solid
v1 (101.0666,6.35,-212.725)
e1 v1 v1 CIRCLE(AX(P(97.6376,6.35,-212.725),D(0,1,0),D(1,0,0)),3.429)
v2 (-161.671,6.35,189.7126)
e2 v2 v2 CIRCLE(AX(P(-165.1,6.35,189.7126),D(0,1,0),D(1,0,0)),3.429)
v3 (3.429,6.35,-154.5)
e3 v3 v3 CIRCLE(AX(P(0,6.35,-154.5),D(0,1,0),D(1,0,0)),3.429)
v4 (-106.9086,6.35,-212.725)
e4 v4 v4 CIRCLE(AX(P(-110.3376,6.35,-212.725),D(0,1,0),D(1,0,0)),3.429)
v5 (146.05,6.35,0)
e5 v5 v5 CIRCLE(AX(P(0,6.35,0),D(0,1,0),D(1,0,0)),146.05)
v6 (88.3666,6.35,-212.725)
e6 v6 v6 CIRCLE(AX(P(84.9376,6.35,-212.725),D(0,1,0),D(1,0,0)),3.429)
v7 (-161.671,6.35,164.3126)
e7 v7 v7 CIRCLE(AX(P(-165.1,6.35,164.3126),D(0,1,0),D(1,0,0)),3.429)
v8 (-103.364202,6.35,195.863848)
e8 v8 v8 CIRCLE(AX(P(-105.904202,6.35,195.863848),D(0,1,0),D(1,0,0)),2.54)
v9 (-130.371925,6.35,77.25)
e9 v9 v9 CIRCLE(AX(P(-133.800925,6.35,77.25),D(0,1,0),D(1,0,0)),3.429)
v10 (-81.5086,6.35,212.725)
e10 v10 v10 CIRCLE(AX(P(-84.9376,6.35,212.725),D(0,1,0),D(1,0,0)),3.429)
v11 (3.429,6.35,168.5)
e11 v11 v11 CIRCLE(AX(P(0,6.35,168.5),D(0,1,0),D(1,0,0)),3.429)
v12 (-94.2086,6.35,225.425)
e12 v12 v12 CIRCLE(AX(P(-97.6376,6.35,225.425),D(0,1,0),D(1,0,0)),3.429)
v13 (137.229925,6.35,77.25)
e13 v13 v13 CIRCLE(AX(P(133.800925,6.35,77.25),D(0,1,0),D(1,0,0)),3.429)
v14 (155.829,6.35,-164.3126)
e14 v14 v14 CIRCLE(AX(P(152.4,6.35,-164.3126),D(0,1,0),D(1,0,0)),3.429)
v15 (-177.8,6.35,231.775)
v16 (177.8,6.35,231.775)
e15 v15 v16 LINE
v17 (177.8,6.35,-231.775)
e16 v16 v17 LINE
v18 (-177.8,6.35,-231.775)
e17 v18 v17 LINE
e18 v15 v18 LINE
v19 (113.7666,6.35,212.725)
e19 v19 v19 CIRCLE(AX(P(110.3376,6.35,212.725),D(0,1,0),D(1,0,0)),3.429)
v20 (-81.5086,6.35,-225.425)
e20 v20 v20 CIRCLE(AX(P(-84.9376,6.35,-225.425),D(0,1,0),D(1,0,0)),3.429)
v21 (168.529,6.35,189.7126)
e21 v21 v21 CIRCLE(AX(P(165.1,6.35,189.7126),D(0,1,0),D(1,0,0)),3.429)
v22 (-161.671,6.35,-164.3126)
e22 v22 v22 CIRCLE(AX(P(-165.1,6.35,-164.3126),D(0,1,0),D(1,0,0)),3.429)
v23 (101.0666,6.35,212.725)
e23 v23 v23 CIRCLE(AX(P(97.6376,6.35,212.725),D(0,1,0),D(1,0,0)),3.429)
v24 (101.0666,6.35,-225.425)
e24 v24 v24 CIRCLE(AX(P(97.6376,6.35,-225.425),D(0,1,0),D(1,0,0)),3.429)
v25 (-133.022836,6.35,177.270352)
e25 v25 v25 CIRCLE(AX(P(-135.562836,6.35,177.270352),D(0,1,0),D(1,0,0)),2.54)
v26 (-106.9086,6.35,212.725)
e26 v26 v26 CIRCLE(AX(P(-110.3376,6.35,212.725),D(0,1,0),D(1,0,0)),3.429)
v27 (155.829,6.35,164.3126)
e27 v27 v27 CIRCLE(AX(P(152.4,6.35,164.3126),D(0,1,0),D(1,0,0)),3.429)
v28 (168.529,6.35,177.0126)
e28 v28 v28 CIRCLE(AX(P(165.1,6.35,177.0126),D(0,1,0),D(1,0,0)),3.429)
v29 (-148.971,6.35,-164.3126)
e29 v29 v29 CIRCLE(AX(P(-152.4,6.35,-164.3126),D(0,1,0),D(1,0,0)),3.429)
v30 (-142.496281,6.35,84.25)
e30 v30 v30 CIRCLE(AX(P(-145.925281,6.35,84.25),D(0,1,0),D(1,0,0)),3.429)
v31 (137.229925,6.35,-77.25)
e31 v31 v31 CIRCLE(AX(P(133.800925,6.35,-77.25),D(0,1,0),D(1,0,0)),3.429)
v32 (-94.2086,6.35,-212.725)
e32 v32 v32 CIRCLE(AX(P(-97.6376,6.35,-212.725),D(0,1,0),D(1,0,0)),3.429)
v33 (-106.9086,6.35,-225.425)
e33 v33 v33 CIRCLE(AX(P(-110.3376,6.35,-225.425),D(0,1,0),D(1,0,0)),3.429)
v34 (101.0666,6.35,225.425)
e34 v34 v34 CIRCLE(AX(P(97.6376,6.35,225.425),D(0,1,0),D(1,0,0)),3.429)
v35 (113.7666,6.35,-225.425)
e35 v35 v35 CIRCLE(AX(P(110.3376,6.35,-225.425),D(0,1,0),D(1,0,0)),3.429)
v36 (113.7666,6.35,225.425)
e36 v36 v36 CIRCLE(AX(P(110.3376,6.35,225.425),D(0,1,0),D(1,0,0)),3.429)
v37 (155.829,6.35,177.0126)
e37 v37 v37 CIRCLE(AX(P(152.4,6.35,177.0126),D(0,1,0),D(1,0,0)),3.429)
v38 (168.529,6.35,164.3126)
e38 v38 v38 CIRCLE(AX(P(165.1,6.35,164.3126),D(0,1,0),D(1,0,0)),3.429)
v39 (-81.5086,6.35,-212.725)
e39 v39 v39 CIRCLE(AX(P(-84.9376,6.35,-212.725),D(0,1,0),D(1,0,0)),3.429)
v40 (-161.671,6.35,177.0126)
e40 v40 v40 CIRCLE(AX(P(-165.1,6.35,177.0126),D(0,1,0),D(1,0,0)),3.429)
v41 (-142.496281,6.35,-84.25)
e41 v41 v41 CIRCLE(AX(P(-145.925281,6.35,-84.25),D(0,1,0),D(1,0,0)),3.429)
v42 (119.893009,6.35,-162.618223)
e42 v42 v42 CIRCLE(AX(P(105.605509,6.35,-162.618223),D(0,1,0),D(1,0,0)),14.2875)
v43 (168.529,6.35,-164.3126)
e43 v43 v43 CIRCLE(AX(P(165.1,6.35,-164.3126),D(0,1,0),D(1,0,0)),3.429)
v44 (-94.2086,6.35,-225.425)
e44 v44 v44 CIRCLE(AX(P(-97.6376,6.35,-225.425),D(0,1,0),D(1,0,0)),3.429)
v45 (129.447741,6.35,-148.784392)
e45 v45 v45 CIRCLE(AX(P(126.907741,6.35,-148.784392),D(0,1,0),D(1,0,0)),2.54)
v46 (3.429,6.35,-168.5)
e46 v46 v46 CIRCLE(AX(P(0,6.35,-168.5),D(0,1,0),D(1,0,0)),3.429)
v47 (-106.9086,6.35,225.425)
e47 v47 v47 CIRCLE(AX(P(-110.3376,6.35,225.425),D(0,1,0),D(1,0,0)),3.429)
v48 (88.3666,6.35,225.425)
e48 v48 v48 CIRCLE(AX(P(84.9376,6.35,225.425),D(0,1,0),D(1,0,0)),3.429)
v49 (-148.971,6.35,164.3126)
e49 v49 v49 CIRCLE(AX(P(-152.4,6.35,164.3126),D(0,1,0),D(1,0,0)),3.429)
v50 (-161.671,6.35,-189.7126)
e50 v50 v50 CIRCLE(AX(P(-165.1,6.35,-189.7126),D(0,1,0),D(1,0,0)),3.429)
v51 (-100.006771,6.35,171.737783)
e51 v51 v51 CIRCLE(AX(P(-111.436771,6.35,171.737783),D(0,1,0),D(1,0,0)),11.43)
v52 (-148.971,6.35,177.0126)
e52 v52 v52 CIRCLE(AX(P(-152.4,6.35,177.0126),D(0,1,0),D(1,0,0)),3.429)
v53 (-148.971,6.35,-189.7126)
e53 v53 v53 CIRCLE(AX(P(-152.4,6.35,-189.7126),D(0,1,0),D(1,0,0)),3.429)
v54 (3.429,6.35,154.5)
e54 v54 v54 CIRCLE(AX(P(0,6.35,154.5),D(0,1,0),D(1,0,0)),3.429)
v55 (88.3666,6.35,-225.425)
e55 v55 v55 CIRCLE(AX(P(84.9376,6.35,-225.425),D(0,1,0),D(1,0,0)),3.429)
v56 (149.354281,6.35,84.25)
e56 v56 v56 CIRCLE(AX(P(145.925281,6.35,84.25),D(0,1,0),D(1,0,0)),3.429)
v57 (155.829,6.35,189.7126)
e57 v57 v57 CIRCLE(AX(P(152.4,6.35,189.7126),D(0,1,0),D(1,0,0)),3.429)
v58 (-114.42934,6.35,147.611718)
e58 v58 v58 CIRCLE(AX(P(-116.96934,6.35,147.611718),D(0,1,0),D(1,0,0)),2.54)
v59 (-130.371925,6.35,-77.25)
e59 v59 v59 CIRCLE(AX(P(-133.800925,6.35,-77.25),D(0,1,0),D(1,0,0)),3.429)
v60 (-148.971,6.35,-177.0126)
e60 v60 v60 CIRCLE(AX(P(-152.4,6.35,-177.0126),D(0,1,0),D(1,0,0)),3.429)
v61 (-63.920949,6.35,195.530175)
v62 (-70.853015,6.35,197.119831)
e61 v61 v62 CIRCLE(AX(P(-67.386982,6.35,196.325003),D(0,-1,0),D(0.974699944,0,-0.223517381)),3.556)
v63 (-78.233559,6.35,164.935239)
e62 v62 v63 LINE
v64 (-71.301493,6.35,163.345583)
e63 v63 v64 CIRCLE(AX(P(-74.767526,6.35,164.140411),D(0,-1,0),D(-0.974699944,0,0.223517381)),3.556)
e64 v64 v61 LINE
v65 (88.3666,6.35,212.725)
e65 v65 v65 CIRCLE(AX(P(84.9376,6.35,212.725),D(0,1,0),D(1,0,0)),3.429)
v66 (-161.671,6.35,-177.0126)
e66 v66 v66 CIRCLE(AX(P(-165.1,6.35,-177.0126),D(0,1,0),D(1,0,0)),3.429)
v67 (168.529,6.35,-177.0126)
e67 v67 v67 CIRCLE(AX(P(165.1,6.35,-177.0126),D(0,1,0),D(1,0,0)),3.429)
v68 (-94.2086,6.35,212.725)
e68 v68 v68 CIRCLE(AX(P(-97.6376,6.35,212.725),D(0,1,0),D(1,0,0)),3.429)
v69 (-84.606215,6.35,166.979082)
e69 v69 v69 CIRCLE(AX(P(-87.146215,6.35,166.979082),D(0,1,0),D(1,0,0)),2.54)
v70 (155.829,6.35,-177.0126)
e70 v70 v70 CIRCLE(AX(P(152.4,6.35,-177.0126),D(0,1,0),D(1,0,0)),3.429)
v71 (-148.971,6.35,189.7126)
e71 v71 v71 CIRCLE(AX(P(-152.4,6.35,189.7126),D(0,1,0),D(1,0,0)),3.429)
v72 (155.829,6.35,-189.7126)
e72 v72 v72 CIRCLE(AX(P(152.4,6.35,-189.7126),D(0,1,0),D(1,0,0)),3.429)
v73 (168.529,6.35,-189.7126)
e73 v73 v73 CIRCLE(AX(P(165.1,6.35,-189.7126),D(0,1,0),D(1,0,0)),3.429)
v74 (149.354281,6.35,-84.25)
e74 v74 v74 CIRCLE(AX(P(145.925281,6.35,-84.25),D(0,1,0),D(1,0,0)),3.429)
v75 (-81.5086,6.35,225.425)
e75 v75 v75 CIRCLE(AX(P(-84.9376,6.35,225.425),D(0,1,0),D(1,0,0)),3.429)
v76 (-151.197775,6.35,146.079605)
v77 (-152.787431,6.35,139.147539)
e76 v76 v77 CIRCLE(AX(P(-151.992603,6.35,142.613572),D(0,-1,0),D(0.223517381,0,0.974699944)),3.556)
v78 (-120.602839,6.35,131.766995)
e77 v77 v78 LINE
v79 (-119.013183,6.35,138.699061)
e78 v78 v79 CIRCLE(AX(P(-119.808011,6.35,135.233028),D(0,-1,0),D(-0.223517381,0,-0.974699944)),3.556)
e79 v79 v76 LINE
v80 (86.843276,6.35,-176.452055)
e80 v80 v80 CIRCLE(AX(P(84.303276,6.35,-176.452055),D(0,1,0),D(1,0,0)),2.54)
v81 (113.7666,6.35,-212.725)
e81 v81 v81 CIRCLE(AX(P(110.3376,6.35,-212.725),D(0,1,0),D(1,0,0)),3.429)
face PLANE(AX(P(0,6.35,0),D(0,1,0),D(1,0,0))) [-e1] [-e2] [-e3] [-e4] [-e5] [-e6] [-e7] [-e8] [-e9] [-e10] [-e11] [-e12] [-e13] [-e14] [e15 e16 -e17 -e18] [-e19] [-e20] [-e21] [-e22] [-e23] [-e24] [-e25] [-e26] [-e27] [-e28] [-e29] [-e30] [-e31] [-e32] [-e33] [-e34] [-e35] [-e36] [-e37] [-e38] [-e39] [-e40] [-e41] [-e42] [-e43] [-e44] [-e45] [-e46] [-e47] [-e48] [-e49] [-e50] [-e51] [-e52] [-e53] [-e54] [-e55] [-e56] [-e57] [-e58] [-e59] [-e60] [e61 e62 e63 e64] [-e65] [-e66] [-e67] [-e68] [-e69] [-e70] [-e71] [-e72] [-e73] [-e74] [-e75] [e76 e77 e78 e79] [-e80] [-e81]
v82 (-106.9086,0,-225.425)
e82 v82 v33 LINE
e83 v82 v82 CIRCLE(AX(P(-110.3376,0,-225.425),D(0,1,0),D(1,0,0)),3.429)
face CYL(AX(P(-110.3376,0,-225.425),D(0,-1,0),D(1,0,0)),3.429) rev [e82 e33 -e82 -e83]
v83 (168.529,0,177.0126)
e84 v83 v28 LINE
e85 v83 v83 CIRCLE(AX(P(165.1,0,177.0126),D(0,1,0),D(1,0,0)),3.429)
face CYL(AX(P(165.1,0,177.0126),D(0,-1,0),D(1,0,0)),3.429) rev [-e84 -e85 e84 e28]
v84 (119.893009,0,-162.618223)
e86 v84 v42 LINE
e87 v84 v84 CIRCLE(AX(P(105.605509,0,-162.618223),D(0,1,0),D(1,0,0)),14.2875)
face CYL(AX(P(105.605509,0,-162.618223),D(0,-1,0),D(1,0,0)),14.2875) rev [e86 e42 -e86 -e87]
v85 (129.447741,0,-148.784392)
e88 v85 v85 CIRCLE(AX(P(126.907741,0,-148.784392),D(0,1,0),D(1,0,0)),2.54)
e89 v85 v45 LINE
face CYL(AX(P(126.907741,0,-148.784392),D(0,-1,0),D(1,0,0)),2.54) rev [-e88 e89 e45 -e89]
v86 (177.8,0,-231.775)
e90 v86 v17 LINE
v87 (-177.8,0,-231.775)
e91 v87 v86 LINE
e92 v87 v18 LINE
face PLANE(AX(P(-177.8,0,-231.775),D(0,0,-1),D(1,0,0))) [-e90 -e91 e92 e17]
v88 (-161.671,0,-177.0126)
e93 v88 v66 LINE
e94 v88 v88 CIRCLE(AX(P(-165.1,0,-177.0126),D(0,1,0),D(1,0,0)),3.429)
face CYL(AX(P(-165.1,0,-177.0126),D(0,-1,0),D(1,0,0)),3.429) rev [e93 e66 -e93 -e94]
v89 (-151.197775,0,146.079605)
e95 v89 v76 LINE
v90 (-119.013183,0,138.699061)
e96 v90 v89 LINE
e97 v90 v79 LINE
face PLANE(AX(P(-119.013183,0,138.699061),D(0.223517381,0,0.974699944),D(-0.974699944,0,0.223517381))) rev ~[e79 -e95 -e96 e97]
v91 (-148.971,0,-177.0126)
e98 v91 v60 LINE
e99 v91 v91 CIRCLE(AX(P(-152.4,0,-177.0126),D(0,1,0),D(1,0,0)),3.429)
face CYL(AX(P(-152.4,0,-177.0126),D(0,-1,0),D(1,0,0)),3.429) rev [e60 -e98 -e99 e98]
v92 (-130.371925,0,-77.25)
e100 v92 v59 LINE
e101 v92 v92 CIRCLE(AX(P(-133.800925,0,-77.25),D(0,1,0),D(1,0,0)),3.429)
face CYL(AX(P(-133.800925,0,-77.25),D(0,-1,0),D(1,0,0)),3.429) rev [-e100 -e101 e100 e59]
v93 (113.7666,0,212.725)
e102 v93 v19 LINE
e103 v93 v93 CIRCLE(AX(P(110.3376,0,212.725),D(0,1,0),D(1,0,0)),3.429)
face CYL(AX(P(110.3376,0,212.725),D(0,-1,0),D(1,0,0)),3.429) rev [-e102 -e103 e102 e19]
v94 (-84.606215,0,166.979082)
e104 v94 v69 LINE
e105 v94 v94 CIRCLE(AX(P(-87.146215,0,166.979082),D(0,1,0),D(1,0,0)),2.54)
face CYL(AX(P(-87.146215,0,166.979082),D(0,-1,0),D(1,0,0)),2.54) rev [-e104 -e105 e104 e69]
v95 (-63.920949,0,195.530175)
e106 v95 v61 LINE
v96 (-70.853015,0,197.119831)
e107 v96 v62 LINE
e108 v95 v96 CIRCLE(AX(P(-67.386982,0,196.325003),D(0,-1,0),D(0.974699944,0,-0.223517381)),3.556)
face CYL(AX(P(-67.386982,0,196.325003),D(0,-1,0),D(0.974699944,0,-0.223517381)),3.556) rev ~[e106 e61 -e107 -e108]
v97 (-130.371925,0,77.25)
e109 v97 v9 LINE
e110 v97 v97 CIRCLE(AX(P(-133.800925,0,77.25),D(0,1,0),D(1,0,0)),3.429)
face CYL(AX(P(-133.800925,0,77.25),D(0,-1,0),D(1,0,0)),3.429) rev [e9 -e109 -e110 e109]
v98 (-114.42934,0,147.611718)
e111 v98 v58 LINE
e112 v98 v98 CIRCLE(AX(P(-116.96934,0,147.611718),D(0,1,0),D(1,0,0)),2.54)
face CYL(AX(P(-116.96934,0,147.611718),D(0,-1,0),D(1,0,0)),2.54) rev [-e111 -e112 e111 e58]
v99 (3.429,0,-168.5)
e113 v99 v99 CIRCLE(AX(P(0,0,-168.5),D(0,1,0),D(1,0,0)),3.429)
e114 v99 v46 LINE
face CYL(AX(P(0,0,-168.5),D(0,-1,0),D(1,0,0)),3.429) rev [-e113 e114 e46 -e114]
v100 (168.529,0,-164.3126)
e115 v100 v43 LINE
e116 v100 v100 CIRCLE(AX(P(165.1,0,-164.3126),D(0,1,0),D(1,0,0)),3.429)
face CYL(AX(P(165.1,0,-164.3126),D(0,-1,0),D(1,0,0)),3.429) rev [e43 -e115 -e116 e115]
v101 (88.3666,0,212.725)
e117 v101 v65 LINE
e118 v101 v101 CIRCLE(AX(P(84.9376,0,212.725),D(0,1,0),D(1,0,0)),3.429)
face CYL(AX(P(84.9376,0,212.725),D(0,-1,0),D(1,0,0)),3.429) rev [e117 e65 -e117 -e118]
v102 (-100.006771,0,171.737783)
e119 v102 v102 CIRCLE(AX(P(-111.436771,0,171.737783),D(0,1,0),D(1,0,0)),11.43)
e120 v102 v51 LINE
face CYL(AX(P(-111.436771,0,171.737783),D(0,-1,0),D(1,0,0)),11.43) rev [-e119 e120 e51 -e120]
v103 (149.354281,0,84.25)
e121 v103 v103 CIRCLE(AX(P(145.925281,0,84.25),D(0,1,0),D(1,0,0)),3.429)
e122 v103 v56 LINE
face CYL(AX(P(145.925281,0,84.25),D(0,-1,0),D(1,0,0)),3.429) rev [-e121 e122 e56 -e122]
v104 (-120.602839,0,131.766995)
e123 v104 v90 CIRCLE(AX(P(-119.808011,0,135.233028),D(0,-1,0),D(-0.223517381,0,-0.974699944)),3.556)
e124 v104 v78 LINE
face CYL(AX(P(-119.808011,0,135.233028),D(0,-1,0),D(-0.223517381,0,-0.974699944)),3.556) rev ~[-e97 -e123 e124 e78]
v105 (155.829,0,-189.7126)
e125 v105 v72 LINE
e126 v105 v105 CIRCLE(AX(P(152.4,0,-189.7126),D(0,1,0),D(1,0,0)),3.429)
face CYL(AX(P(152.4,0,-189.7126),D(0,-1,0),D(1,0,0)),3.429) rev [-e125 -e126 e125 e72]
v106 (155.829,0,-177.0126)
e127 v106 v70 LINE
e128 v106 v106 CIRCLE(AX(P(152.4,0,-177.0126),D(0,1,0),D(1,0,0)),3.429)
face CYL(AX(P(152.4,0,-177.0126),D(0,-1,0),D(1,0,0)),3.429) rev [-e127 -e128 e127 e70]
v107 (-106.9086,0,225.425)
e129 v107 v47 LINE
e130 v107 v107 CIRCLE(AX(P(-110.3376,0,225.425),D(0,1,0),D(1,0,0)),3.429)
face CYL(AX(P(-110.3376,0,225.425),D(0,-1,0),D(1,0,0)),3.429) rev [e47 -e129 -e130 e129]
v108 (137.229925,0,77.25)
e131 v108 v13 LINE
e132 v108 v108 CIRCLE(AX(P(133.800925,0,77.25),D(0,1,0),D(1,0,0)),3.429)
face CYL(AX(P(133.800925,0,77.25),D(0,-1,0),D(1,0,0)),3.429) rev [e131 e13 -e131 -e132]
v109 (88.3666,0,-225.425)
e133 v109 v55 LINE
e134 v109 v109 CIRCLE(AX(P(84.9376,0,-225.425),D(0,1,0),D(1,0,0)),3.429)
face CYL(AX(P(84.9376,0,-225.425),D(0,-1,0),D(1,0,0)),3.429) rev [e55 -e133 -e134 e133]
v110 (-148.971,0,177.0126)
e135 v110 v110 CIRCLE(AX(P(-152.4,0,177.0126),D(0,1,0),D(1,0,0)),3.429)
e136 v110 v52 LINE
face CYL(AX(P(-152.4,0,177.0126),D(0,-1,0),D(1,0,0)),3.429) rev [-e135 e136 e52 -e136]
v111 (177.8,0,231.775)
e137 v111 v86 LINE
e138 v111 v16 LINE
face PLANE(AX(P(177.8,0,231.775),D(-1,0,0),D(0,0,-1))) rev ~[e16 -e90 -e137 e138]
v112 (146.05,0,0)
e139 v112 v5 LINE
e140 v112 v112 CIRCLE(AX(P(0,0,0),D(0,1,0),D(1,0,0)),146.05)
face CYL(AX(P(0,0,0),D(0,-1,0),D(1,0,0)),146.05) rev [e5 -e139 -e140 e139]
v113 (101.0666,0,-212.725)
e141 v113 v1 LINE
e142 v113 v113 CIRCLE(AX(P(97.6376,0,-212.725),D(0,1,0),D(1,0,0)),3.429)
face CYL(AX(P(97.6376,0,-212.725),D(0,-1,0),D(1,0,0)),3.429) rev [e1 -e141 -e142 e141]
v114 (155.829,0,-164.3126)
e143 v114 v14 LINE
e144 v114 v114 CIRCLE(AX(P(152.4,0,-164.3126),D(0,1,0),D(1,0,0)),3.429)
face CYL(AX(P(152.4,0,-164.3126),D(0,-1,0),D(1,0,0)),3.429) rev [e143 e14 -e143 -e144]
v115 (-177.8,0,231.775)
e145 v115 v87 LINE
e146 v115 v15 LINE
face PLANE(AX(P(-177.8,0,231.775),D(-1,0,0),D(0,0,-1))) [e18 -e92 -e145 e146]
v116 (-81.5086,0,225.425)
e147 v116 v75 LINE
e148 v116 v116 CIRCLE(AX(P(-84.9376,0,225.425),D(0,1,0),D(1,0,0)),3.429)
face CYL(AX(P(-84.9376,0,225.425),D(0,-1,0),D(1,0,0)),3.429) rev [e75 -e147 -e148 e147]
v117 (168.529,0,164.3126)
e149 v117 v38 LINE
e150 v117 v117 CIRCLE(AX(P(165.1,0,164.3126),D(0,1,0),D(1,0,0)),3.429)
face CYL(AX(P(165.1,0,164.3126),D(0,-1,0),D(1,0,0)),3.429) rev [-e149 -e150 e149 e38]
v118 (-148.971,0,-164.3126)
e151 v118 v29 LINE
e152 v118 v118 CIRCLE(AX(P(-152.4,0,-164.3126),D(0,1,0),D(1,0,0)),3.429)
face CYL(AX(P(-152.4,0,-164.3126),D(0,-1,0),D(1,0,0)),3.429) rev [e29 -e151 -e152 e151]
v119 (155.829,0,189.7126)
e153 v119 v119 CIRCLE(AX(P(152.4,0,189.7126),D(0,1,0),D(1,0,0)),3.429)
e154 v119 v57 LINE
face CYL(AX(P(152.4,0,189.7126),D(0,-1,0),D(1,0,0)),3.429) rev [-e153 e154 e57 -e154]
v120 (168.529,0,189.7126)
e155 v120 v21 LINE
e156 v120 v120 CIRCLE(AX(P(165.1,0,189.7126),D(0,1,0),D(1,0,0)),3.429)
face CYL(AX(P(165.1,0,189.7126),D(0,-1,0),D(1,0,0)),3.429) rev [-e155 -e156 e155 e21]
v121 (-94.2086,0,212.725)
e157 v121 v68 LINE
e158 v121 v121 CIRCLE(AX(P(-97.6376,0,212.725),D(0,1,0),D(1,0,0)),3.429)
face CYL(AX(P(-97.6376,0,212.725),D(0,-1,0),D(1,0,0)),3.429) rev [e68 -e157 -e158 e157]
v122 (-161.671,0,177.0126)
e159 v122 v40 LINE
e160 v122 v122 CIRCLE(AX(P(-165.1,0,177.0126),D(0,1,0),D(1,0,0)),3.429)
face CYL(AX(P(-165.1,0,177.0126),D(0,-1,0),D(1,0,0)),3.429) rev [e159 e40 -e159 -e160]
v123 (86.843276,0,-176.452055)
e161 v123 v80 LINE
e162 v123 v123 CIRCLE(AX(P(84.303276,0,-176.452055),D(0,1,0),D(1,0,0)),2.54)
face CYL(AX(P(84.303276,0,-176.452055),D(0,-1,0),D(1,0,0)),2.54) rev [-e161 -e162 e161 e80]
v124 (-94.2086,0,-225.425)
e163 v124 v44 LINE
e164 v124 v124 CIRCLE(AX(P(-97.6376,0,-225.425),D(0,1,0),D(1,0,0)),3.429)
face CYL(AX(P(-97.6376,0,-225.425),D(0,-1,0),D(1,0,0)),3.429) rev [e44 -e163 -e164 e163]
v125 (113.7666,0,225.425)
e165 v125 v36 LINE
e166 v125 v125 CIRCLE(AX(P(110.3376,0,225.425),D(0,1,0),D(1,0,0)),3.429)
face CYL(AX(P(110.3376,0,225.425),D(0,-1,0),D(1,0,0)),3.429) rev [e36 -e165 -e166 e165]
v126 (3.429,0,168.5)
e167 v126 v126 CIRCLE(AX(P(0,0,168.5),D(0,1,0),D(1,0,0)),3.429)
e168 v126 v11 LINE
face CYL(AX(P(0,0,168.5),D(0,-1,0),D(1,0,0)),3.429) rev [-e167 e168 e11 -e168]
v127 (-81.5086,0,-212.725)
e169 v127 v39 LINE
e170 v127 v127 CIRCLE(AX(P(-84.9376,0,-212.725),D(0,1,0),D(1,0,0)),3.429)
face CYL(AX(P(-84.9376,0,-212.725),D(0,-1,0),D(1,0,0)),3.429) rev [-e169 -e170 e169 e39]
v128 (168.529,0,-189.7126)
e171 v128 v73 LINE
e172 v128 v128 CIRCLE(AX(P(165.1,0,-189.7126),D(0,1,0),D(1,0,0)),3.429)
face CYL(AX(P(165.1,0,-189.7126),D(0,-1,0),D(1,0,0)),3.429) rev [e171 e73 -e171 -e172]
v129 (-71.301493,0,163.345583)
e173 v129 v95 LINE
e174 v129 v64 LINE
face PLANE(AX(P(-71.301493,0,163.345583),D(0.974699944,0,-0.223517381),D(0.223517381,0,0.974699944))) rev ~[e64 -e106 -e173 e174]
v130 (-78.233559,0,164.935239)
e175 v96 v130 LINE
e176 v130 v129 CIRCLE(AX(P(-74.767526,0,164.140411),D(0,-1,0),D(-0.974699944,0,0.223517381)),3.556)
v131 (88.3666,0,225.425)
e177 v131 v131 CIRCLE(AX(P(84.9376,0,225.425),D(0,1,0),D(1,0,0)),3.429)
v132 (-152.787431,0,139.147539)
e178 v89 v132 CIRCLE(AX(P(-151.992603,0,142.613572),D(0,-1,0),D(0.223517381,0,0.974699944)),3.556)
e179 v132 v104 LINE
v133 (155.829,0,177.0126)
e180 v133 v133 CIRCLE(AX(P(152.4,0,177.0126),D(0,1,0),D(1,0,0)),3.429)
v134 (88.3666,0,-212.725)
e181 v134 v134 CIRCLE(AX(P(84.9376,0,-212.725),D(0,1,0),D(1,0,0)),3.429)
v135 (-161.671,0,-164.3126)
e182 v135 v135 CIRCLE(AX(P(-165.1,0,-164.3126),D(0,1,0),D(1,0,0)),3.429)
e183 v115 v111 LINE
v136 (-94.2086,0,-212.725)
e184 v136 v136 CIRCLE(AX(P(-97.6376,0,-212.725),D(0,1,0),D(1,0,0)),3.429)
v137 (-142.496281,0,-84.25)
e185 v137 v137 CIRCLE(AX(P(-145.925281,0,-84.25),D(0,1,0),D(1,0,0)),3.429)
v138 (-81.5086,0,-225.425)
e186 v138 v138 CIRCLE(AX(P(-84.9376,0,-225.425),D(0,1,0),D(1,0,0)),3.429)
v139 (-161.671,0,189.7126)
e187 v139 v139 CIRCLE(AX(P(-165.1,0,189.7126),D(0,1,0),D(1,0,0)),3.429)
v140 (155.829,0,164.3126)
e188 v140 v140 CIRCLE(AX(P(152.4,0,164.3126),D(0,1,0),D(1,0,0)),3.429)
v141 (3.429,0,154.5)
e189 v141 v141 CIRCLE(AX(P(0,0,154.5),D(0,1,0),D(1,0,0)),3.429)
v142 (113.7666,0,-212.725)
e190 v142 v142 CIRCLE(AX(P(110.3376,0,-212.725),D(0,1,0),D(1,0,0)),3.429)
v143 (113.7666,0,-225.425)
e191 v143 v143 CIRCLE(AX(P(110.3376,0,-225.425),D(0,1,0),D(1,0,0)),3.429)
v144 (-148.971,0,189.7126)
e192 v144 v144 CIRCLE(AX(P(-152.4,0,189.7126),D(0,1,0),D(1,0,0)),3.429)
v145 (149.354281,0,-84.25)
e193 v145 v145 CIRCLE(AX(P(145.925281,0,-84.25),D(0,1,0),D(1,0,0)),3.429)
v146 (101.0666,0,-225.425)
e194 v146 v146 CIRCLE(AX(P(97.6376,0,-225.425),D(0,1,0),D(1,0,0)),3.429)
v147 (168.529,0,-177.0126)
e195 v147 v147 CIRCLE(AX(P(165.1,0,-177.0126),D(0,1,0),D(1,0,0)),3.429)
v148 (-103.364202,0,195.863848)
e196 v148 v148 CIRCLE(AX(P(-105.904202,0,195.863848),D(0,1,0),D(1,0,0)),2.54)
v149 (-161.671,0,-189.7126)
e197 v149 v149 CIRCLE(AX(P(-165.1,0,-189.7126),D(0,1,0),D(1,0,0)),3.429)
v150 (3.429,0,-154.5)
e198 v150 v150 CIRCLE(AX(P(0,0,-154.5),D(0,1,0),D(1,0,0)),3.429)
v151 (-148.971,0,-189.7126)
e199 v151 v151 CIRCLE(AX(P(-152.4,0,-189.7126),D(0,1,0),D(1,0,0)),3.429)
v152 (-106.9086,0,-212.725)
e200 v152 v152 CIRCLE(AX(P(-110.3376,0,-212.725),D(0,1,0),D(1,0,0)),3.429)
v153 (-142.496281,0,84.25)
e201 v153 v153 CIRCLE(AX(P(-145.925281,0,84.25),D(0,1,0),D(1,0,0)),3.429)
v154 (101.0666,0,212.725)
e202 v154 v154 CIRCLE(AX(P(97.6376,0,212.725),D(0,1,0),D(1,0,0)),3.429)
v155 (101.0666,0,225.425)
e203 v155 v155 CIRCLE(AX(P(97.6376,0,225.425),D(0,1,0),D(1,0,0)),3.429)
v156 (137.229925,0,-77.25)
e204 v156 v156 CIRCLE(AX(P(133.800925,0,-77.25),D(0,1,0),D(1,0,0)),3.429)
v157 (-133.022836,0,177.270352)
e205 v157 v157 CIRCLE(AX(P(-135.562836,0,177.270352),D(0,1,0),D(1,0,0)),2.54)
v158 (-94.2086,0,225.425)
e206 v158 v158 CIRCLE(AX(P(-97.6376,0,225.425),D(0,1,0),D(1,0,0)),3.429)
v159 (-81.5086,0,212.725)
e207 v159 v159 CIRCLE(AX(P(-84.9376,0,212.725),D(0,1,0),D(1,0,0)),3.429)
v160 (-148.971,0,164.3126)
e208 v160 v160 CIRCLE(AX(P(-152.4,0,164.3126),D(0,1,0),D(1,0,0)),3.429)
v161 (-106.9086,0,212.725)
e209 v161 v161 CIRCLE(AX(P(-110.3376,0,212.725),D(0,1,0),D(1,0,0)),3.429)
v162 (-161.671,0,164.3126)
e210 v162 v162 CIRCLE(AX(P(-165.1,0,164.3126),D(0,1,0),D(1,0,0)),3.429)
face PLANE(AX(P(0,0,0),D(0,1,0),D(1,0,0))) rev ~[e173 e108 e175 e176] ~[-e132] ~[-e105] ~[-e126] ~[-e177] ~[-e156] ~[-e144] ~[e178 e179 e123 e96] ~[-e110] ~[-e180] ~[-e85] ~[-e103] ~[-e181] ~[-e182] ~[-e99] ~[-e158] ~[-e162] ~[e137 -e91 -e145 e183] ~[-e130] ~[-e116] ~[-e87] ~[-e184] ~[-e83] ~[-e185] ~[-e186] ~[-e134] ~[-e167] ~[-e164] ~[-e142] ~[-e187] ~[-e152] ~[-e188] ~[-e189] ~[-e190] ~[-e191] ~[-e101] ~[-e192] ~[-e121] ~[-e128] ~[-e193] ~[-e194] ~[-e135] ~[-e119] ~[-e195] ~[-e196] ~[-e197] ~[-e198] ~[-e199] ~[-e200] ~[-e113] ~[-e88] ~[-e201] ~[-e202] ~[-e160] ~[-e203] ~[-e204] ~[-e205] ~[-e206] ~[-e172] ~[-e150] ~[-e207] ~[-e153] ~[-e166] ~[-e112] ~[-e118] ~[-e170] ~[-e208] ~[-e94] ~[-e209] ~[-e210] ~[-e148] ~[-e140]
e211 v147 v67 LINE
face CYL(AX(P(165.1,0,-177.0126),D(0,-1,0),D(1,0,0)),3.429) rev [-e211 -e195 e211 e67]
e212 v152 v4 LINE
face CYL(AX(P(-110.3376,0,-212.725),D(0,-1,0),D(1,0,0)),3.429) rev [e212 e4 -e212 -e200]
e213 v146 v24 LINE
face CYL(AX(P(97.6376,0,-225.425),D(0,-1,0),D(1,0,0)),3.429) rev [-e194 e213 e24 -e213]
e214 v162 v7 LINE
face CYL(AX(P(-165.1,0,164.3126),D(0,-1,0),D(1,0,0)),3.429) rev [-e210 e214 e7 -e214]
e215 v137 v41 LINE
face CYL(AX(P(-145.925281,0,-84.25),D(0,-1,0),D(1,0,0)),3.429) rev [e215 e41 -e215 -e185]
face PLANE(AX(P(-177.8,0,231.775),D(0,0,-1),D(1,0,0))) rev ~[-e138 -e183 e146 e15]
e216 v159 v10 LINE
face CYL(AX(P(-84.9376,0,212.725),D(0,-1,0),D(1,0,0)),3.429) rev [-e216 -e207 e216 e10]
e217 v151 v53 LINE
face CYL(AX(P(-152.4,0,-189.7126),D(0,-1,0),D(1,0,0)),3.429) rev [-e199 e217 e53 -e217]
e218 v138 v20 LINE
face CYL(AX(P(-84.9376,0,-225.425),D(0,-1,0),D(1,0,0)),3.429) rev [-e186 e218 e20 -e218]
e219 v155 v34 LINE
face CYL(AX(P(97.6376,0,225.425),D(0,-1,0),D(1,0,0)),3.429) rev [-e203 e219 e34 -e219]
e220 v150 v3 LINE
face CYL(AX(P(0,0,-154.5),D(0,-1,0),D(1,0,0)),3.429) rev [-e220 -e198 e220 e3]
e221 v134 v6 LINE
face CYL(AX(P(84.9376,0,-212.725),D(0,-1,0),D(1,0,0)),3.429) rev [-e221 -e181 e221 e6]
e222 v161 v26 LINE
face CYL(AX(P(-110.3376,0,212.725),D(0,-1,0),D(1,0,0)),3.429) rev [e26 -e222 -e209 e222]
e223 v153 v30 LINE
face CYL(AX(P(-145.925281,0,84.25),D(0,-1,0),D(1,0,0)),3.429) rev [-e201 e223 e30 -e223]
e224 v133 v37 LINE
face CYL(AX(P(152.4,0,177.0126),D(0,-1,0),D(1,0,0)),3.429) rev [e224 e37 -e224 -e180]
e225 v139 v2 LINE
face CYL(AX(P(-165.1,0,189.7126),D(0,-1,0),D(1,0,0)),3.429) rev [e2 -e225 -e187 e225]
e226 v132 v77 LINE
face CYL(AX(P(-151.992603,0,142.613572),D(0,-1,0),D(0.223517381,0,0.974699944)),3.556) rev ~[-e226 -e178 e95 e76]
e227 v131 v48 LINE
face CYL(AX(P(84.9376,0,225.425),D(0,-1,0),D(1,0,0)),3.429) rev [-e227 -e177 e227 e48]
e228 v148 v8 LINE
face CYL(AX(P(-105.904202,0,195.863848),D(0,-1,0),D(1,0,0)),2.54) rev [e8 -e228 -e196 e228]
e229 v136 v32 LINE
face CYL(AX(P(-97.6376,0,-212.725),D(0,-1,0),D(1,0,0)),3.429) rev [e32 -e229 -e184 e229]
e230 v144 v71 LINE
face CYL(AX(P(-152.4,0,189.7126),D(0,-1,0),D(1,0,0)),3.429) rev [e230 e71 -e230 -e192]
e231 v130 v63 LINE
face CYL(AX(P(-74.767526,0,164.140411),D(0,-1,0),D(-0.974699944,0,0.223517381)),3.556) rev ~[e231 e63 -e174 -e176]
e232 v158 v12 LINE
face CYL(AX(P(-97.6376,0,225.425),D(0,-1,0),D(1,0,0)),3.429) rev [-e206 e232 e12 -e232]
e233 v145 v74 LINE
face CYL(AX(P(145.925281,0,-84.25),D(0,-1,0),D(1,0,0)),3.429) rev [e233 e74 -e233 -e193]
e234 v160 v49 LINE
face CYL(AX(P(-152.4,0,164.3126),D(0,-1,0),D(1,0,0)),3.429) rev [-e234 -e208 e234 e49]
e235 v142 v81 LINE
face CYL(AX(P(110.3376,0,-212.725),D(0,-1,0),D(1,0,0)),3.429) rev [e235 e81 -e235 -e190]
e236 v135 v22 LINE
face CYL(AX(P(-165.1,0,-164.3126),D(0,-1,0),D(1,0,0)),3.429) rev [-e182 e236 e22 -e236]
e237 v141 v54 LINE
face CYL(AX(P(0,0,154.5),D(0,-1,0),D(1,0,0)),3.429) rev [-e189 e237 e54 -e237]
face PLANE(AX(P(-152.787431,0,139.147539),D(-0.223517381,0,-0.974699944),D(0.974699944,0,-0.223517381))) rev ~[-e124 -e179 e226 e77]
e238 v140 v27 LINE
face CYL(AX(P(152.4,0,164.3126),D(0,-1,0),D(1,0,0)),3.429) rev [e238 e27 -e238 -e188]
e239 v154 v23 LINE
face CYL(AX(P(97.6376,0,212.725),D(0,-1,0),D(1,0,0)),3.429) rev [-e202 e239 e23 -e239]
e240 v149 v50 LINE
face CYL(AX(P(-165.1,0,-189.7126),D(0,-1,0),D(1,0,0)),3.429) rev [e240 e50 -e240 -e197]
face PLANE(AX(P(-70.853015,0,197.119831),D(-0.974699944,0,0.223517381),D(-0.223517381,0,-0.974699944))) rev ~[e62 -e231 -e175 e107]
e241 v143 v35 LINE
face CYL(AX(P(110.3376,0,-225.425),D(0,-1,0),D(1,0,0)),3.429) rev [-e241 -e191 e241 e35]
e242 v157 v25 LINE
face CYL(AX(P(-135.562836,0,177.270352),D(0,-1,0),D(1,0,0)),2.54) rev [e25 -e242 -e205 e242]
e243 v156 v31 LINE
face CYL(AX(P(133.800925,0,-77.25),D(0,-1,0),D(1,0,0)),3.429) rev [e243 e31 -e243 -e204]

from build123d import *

# Parameters (mm, degrees)
SKETCH1_W           = 355.6
SKETCH1_H           = 463.55
SKETCH1_R           = 146.05
SKETCH1_R_2         = 3.429
SKETCH1_R_3         = 2.54
SKETCH1_R_4         = 11.43
SKETCH1_R_5         = 14.2875
BOSS_EXTRUDE1_DEPTH = 6.35


with BuildPart() as part:
    # Sketch1 → Boss-Extrude1 (new body)
    with BuildSketch(Plane(origin=(0, 0, 0), x_dir=(1, 0, 0), z_dir=(0, 1, 0))):
        Rectangle(SKETCH1_W, SKETCH1_H)
        Circle(SKETCH1_R, mode=Mode.SUBTRACT)
        with Locations((0, 168.5)):
            Circle(SKETCH1_R_2, mode=Mode.SUBTRACT)
        with Locations((145.925280538, 84.25)):
            Circle(SKETCH1_R_2, mode=Mode.SUBTRACT)
        with Locations((145.925280538, -84.25)):
            Circle(SKETCH1_R_2, mode=Mode.SUBTRACT)
        with Locations((0, -168.5)):
            Circle(SKETCH1_R_2, mode=Mode.SUBTRACT)
        with Locations((-145.925280538, -84.25)):
            Circle(SKETCH1_R_2, mode=Mode.SUBTRACT)
        with Locations((-145.925280538, 84.25)):
            Circle(SKETCH1_R_2, mode=Mode.SUBTRACT)
        with Locations((-165.1, 189.7126)):
            Circle(SKETCH1_R_2, mode=Mode.SUBTRACT)
        with Locations((-152.4, 189.7126)):
            Circle(SKETCH1_R_2, mode=Mode.SUBTRACT)
        with Locations((-152.4, 177.0126)):
            Circle(SKETCH1_R_2, mode=Mode.SUBTRACT)
        with Locations((-165.1, 177.0126)):
            Circle(SKETCH1_R_2, mode=Mode.SUBTRACT)
        with Locations((-152.4, 164.3126)):
            Circle(SKETCH1_R_2, mode=Mode.SUBTRACT)
        with Locations((-165.1, 164.3126)):
            Circle(SKETCH1_R_2, mode=Mode.SUBTRACT)
        with Locations((165.1, 164.3126)):
            Circle(SKETCH1_R_2, mode=Mode.SUBTRACT)
        with Locations((152.4, 164.3126)):
            Circle(SKETCH1_R_2, mode=Mode.SUBTRACT)
        with Locations((165.1, 177.0126)):
            Circle(SKETCH1_R_2, mode=Mode.SUBTRACT)
        with Locations((152.4, 177.0126)):
            Circle(SKETCH1_R_2, mode=Mode.SUBTRACT)
        with Locations((152.4, 189.7126)):
            Circle(SKETCH1_R_2, mode=Mode.SUBTRACT)
        with Locations((165.1, 189.7126)):
            Circle(SKETCH1_R_2, mode=Mode.SUBTRACT)
        with Locations((165.1, -189.7126)):
            Circle(SKETCH1_R_2, mode=Mode.SUBTRACT)
        with Locations((152.4, -189.7126)):
            Circle(SKETCH1_R_2, mode=Mode.SUBTRACT)
        with Locations((152.4, -177.0126)):
            Circle(SKETCH1_R_2, mode=Mode.SUBTRACT)
        with Locations((165.1, -177.0126)):
            Circle(SKETCH1_R_2, mode=Mode.SUBTRACT)
        with Locations((152.4, -164.3126)):
            Circle(SKETCH1_R_2, mode=Mode.SUBTRACT)
        with Locations((165.1, -164.3126)):
            Circle(SKETCH1_R_2, mode=Mode.SUBTRACT)
        with Locations((-165.1, -164.3126)):
            Circle(SKETCH1_R_2, mode=Mode.SUBTRACT)
        with Locations((-152.4, -164.3126)):
            Circle(SKETCH1_R_2, mode=Mode.SUBTRACT)
        with Locations((-165.1, -177.0126)):
            Circle(SKETCH1_R_2, mode=Mode.SUBTRACT)
        with Locations((-152.4, -177.0126)):
            Circle(SKETCH1_R_2, mode=Mode.SUBTRACT)
        with Locations((-152.4, -189.7126)):
            Circle(SKETCH1_R_2, mode=Mode.SUBTRACT)
        with Locations((-165.1, -189.7126)):
            Circle(SKETCH1_R_2, mode=Mode.SUBTRACT)
        with Locations((-110.3376, 225.425)):
            Circle(SKETCH1_R_2, mode=Mode.SUBTRACT)
        with Locations((-97.6376, 225.425)):
            Circle(SKETCH1_R_2, mode=Mode.SUBTRACT)
        with Locations((-84.9376, 225.425)):
            Circle(SKETCH1_R_2, mode=Mode.SUBTRACT)
        with Locations((-97.6376, 212.725)):
            Circle(SKETCH1_R_2, mode=Mode.SUBTRACT)
        with Locations((-84.9376, 212.725)):
            Circle(SKETCH1_R_2, mode=Mode.SUBTRACT)
        with Locations((-110.3376, 212.725)):
            Circle(SKETCH1_R_2, mode=Mode.SUBTRACT)
        with Locations((110.3376, 212.725)):
            Circle(SKETCH1_R_2, mode=Mode.SUBTRACT)
        with Locations((84.9376, 212.725)):
            Circle(SKETCH1_R_2, mode=Mode.SUBTRACT)
        with Locations((97.6376, 212.725)):
            Circle(SKETCH1_R_2, mode=Mode.SUBTRACT)
        with Locations((84.9376, 225.425)):
            Circle(SKETCH1_R_2, mode=Mode.SUBTRACT)
        with Locations((97.6376, 225.425)):
            Circle(SKETCH1_R_2, mode=Mode.SUBTRACT)
        with Locations((110.3376, 225.425)):
            Circle(SKETCH1_R_2, mode=Mode.SUBTRACT)
        with Locations((110.3376, -225.425)):
            Circle(SKETCH1_R_2, mode=Mode.SUBTRACT)
        with Locations((97.6376, -225.425)):
            Circle(SKETCH1_R_2, mode=Mode.SUBTRACT)
        with Locations((84.9376, -225.425)):
            Circle(SKETCH1_R_2, mode=Mode.SUBTRACT)
        with Locations((97.6376, -212.725)):
            Circle(SKETCH1_R_2, mode=Mode.SUBTRACT)
        with Locations((84.9376, -212.725)):
            Circle(SKETCH1_R_2, mode=Mode.SUBTRACT)
        with Locations((110.3376, -212.725)):
            Circle(SKETCH1_R_2, mode=Mode.SUBTRACT)
        with Locations((-110.3376, -212.725)):
            Circle(SKETCH1_R_2, mode=Mode.SUBTRACT)
        with Locations((-84.9376, -212.725)):
            Circle(SKETCH1_R_2, mode=Mode.SUBTRACT)
        with Locations((-97.6376, -212.725)):
            Circle(SKETCH1_R_2, mode=Mode.SUBTRACT)
        with Locations((-84.9376, -225.425)):
            Circle(SKETCH1_R_2, mode=Mode.SUBTRACT)
        with Locations((-97.6376, -225.425)):
            Circle(SKETCH1_R_2, mode=Mode.SUBTRACT)
        with Locations((-110.3376, -225.425)):
            Circle(SKETCH1_R_2, mode=Mode.SUBTRACT)
        with Locations((-116.969340251, -147.611717522)):
            Circle(SKETCH1_R_3, mode=Mode.SUBTRACT)
        with Locations((-87.146214855, -166.979081607)):
            Circle(SKETCH1_R_3, mode=Mode.SUBTRACT)
        with Locations((-105.904201711, -195.863848358)):
            Circle(SKETCH1_R_3, mode=Mode.SUBTRACT)
        with Locations((-135.562836399, -177.27035221)):
            Circle(SKETCH1_R_3, mode=Mode.SUBTRACT)
        with Locations((-111.436770981, -171.73778294)):
            Circle(SKETCH1_R_4, mode=Mode.SUBTRACT)
        with Locations((105.605508889, 162.618223125)):
            Circle(SKETCH1_R_5, mode=Mode.SUBTRACT)
        with Locations((84.303276464, 176.452054614)):
            Circle(SKETCH1_R_3, mode=Mode.SUBTRACT)
        with Locations((126.907741315, 148.784391635)):
            Circle(SKETCH1_R_3, mode=Mode.SUBTRACT)
        with Locations((0, 154.5)):
            Circle(SKETCH1_R_2, mode=Mode.SUBTRACT)
        with Locations((133.800924885, 77.25)):
            Circle(SKETCH1_R_2, mode=Mode.SUBTRACT)
        with Locations((133.800924885, -77.25)):
            Circle(SKETCH1_R_2, mode=Mode.SUBTRACT)
        with Locations((0, -154.5)):
            Circle(SKETCH1_R_2, mode=Mode.SUBTRACT)
        with Locations((-133.800924885, -77.25)):
            Circle(SKETCH1_R_2, mode=Mode.SUBTRACT)
        with Locations((-133.800924885, 77.25)):
            Circle(SKETCH1_R_2, mode=Mode.SUBTRACT)
        with BuildLine():
            Line((-71.301492569, -163.345583061), (-63.920948648, -195.530175204))
            ThreePointArc((-63.920948648, -195.530175204), (-66.592153841, -199.791036011), (-70.853014648, -197.119830818))
            Line((-70.853014648, -197.119830818), (-78.233558569, -164.935238675))
            ThreePointArc((-78.233558569, -164.935238675), (-75.562353376, -160.674377868), (-71.301492569, -163.345583061))
        make_face(mode=Mode.SUBTRACT)
        with BuildLine():
            Line((-119.013183183, -138.699061236), (-151.197775326, -146.079605157))
            ThreePointArc((-151.197775326, -146.079605157), (-155.458636133, -143.408399964), (-152.78743094, -139.147539157))
            Line((-152.78743094, -139.147539157), (-120.602838797, -131.766995236))
            ThreePointArc((-120.602838797, -131.766995236), (-116.34197799, -134.438200429), (-119.013183183, -138.699061236))
        make_face(mode=Mode.SUBTRACT)
    extrude(amount=BOSS_EXTRUDE1_DEPTH)


solid = part.part
